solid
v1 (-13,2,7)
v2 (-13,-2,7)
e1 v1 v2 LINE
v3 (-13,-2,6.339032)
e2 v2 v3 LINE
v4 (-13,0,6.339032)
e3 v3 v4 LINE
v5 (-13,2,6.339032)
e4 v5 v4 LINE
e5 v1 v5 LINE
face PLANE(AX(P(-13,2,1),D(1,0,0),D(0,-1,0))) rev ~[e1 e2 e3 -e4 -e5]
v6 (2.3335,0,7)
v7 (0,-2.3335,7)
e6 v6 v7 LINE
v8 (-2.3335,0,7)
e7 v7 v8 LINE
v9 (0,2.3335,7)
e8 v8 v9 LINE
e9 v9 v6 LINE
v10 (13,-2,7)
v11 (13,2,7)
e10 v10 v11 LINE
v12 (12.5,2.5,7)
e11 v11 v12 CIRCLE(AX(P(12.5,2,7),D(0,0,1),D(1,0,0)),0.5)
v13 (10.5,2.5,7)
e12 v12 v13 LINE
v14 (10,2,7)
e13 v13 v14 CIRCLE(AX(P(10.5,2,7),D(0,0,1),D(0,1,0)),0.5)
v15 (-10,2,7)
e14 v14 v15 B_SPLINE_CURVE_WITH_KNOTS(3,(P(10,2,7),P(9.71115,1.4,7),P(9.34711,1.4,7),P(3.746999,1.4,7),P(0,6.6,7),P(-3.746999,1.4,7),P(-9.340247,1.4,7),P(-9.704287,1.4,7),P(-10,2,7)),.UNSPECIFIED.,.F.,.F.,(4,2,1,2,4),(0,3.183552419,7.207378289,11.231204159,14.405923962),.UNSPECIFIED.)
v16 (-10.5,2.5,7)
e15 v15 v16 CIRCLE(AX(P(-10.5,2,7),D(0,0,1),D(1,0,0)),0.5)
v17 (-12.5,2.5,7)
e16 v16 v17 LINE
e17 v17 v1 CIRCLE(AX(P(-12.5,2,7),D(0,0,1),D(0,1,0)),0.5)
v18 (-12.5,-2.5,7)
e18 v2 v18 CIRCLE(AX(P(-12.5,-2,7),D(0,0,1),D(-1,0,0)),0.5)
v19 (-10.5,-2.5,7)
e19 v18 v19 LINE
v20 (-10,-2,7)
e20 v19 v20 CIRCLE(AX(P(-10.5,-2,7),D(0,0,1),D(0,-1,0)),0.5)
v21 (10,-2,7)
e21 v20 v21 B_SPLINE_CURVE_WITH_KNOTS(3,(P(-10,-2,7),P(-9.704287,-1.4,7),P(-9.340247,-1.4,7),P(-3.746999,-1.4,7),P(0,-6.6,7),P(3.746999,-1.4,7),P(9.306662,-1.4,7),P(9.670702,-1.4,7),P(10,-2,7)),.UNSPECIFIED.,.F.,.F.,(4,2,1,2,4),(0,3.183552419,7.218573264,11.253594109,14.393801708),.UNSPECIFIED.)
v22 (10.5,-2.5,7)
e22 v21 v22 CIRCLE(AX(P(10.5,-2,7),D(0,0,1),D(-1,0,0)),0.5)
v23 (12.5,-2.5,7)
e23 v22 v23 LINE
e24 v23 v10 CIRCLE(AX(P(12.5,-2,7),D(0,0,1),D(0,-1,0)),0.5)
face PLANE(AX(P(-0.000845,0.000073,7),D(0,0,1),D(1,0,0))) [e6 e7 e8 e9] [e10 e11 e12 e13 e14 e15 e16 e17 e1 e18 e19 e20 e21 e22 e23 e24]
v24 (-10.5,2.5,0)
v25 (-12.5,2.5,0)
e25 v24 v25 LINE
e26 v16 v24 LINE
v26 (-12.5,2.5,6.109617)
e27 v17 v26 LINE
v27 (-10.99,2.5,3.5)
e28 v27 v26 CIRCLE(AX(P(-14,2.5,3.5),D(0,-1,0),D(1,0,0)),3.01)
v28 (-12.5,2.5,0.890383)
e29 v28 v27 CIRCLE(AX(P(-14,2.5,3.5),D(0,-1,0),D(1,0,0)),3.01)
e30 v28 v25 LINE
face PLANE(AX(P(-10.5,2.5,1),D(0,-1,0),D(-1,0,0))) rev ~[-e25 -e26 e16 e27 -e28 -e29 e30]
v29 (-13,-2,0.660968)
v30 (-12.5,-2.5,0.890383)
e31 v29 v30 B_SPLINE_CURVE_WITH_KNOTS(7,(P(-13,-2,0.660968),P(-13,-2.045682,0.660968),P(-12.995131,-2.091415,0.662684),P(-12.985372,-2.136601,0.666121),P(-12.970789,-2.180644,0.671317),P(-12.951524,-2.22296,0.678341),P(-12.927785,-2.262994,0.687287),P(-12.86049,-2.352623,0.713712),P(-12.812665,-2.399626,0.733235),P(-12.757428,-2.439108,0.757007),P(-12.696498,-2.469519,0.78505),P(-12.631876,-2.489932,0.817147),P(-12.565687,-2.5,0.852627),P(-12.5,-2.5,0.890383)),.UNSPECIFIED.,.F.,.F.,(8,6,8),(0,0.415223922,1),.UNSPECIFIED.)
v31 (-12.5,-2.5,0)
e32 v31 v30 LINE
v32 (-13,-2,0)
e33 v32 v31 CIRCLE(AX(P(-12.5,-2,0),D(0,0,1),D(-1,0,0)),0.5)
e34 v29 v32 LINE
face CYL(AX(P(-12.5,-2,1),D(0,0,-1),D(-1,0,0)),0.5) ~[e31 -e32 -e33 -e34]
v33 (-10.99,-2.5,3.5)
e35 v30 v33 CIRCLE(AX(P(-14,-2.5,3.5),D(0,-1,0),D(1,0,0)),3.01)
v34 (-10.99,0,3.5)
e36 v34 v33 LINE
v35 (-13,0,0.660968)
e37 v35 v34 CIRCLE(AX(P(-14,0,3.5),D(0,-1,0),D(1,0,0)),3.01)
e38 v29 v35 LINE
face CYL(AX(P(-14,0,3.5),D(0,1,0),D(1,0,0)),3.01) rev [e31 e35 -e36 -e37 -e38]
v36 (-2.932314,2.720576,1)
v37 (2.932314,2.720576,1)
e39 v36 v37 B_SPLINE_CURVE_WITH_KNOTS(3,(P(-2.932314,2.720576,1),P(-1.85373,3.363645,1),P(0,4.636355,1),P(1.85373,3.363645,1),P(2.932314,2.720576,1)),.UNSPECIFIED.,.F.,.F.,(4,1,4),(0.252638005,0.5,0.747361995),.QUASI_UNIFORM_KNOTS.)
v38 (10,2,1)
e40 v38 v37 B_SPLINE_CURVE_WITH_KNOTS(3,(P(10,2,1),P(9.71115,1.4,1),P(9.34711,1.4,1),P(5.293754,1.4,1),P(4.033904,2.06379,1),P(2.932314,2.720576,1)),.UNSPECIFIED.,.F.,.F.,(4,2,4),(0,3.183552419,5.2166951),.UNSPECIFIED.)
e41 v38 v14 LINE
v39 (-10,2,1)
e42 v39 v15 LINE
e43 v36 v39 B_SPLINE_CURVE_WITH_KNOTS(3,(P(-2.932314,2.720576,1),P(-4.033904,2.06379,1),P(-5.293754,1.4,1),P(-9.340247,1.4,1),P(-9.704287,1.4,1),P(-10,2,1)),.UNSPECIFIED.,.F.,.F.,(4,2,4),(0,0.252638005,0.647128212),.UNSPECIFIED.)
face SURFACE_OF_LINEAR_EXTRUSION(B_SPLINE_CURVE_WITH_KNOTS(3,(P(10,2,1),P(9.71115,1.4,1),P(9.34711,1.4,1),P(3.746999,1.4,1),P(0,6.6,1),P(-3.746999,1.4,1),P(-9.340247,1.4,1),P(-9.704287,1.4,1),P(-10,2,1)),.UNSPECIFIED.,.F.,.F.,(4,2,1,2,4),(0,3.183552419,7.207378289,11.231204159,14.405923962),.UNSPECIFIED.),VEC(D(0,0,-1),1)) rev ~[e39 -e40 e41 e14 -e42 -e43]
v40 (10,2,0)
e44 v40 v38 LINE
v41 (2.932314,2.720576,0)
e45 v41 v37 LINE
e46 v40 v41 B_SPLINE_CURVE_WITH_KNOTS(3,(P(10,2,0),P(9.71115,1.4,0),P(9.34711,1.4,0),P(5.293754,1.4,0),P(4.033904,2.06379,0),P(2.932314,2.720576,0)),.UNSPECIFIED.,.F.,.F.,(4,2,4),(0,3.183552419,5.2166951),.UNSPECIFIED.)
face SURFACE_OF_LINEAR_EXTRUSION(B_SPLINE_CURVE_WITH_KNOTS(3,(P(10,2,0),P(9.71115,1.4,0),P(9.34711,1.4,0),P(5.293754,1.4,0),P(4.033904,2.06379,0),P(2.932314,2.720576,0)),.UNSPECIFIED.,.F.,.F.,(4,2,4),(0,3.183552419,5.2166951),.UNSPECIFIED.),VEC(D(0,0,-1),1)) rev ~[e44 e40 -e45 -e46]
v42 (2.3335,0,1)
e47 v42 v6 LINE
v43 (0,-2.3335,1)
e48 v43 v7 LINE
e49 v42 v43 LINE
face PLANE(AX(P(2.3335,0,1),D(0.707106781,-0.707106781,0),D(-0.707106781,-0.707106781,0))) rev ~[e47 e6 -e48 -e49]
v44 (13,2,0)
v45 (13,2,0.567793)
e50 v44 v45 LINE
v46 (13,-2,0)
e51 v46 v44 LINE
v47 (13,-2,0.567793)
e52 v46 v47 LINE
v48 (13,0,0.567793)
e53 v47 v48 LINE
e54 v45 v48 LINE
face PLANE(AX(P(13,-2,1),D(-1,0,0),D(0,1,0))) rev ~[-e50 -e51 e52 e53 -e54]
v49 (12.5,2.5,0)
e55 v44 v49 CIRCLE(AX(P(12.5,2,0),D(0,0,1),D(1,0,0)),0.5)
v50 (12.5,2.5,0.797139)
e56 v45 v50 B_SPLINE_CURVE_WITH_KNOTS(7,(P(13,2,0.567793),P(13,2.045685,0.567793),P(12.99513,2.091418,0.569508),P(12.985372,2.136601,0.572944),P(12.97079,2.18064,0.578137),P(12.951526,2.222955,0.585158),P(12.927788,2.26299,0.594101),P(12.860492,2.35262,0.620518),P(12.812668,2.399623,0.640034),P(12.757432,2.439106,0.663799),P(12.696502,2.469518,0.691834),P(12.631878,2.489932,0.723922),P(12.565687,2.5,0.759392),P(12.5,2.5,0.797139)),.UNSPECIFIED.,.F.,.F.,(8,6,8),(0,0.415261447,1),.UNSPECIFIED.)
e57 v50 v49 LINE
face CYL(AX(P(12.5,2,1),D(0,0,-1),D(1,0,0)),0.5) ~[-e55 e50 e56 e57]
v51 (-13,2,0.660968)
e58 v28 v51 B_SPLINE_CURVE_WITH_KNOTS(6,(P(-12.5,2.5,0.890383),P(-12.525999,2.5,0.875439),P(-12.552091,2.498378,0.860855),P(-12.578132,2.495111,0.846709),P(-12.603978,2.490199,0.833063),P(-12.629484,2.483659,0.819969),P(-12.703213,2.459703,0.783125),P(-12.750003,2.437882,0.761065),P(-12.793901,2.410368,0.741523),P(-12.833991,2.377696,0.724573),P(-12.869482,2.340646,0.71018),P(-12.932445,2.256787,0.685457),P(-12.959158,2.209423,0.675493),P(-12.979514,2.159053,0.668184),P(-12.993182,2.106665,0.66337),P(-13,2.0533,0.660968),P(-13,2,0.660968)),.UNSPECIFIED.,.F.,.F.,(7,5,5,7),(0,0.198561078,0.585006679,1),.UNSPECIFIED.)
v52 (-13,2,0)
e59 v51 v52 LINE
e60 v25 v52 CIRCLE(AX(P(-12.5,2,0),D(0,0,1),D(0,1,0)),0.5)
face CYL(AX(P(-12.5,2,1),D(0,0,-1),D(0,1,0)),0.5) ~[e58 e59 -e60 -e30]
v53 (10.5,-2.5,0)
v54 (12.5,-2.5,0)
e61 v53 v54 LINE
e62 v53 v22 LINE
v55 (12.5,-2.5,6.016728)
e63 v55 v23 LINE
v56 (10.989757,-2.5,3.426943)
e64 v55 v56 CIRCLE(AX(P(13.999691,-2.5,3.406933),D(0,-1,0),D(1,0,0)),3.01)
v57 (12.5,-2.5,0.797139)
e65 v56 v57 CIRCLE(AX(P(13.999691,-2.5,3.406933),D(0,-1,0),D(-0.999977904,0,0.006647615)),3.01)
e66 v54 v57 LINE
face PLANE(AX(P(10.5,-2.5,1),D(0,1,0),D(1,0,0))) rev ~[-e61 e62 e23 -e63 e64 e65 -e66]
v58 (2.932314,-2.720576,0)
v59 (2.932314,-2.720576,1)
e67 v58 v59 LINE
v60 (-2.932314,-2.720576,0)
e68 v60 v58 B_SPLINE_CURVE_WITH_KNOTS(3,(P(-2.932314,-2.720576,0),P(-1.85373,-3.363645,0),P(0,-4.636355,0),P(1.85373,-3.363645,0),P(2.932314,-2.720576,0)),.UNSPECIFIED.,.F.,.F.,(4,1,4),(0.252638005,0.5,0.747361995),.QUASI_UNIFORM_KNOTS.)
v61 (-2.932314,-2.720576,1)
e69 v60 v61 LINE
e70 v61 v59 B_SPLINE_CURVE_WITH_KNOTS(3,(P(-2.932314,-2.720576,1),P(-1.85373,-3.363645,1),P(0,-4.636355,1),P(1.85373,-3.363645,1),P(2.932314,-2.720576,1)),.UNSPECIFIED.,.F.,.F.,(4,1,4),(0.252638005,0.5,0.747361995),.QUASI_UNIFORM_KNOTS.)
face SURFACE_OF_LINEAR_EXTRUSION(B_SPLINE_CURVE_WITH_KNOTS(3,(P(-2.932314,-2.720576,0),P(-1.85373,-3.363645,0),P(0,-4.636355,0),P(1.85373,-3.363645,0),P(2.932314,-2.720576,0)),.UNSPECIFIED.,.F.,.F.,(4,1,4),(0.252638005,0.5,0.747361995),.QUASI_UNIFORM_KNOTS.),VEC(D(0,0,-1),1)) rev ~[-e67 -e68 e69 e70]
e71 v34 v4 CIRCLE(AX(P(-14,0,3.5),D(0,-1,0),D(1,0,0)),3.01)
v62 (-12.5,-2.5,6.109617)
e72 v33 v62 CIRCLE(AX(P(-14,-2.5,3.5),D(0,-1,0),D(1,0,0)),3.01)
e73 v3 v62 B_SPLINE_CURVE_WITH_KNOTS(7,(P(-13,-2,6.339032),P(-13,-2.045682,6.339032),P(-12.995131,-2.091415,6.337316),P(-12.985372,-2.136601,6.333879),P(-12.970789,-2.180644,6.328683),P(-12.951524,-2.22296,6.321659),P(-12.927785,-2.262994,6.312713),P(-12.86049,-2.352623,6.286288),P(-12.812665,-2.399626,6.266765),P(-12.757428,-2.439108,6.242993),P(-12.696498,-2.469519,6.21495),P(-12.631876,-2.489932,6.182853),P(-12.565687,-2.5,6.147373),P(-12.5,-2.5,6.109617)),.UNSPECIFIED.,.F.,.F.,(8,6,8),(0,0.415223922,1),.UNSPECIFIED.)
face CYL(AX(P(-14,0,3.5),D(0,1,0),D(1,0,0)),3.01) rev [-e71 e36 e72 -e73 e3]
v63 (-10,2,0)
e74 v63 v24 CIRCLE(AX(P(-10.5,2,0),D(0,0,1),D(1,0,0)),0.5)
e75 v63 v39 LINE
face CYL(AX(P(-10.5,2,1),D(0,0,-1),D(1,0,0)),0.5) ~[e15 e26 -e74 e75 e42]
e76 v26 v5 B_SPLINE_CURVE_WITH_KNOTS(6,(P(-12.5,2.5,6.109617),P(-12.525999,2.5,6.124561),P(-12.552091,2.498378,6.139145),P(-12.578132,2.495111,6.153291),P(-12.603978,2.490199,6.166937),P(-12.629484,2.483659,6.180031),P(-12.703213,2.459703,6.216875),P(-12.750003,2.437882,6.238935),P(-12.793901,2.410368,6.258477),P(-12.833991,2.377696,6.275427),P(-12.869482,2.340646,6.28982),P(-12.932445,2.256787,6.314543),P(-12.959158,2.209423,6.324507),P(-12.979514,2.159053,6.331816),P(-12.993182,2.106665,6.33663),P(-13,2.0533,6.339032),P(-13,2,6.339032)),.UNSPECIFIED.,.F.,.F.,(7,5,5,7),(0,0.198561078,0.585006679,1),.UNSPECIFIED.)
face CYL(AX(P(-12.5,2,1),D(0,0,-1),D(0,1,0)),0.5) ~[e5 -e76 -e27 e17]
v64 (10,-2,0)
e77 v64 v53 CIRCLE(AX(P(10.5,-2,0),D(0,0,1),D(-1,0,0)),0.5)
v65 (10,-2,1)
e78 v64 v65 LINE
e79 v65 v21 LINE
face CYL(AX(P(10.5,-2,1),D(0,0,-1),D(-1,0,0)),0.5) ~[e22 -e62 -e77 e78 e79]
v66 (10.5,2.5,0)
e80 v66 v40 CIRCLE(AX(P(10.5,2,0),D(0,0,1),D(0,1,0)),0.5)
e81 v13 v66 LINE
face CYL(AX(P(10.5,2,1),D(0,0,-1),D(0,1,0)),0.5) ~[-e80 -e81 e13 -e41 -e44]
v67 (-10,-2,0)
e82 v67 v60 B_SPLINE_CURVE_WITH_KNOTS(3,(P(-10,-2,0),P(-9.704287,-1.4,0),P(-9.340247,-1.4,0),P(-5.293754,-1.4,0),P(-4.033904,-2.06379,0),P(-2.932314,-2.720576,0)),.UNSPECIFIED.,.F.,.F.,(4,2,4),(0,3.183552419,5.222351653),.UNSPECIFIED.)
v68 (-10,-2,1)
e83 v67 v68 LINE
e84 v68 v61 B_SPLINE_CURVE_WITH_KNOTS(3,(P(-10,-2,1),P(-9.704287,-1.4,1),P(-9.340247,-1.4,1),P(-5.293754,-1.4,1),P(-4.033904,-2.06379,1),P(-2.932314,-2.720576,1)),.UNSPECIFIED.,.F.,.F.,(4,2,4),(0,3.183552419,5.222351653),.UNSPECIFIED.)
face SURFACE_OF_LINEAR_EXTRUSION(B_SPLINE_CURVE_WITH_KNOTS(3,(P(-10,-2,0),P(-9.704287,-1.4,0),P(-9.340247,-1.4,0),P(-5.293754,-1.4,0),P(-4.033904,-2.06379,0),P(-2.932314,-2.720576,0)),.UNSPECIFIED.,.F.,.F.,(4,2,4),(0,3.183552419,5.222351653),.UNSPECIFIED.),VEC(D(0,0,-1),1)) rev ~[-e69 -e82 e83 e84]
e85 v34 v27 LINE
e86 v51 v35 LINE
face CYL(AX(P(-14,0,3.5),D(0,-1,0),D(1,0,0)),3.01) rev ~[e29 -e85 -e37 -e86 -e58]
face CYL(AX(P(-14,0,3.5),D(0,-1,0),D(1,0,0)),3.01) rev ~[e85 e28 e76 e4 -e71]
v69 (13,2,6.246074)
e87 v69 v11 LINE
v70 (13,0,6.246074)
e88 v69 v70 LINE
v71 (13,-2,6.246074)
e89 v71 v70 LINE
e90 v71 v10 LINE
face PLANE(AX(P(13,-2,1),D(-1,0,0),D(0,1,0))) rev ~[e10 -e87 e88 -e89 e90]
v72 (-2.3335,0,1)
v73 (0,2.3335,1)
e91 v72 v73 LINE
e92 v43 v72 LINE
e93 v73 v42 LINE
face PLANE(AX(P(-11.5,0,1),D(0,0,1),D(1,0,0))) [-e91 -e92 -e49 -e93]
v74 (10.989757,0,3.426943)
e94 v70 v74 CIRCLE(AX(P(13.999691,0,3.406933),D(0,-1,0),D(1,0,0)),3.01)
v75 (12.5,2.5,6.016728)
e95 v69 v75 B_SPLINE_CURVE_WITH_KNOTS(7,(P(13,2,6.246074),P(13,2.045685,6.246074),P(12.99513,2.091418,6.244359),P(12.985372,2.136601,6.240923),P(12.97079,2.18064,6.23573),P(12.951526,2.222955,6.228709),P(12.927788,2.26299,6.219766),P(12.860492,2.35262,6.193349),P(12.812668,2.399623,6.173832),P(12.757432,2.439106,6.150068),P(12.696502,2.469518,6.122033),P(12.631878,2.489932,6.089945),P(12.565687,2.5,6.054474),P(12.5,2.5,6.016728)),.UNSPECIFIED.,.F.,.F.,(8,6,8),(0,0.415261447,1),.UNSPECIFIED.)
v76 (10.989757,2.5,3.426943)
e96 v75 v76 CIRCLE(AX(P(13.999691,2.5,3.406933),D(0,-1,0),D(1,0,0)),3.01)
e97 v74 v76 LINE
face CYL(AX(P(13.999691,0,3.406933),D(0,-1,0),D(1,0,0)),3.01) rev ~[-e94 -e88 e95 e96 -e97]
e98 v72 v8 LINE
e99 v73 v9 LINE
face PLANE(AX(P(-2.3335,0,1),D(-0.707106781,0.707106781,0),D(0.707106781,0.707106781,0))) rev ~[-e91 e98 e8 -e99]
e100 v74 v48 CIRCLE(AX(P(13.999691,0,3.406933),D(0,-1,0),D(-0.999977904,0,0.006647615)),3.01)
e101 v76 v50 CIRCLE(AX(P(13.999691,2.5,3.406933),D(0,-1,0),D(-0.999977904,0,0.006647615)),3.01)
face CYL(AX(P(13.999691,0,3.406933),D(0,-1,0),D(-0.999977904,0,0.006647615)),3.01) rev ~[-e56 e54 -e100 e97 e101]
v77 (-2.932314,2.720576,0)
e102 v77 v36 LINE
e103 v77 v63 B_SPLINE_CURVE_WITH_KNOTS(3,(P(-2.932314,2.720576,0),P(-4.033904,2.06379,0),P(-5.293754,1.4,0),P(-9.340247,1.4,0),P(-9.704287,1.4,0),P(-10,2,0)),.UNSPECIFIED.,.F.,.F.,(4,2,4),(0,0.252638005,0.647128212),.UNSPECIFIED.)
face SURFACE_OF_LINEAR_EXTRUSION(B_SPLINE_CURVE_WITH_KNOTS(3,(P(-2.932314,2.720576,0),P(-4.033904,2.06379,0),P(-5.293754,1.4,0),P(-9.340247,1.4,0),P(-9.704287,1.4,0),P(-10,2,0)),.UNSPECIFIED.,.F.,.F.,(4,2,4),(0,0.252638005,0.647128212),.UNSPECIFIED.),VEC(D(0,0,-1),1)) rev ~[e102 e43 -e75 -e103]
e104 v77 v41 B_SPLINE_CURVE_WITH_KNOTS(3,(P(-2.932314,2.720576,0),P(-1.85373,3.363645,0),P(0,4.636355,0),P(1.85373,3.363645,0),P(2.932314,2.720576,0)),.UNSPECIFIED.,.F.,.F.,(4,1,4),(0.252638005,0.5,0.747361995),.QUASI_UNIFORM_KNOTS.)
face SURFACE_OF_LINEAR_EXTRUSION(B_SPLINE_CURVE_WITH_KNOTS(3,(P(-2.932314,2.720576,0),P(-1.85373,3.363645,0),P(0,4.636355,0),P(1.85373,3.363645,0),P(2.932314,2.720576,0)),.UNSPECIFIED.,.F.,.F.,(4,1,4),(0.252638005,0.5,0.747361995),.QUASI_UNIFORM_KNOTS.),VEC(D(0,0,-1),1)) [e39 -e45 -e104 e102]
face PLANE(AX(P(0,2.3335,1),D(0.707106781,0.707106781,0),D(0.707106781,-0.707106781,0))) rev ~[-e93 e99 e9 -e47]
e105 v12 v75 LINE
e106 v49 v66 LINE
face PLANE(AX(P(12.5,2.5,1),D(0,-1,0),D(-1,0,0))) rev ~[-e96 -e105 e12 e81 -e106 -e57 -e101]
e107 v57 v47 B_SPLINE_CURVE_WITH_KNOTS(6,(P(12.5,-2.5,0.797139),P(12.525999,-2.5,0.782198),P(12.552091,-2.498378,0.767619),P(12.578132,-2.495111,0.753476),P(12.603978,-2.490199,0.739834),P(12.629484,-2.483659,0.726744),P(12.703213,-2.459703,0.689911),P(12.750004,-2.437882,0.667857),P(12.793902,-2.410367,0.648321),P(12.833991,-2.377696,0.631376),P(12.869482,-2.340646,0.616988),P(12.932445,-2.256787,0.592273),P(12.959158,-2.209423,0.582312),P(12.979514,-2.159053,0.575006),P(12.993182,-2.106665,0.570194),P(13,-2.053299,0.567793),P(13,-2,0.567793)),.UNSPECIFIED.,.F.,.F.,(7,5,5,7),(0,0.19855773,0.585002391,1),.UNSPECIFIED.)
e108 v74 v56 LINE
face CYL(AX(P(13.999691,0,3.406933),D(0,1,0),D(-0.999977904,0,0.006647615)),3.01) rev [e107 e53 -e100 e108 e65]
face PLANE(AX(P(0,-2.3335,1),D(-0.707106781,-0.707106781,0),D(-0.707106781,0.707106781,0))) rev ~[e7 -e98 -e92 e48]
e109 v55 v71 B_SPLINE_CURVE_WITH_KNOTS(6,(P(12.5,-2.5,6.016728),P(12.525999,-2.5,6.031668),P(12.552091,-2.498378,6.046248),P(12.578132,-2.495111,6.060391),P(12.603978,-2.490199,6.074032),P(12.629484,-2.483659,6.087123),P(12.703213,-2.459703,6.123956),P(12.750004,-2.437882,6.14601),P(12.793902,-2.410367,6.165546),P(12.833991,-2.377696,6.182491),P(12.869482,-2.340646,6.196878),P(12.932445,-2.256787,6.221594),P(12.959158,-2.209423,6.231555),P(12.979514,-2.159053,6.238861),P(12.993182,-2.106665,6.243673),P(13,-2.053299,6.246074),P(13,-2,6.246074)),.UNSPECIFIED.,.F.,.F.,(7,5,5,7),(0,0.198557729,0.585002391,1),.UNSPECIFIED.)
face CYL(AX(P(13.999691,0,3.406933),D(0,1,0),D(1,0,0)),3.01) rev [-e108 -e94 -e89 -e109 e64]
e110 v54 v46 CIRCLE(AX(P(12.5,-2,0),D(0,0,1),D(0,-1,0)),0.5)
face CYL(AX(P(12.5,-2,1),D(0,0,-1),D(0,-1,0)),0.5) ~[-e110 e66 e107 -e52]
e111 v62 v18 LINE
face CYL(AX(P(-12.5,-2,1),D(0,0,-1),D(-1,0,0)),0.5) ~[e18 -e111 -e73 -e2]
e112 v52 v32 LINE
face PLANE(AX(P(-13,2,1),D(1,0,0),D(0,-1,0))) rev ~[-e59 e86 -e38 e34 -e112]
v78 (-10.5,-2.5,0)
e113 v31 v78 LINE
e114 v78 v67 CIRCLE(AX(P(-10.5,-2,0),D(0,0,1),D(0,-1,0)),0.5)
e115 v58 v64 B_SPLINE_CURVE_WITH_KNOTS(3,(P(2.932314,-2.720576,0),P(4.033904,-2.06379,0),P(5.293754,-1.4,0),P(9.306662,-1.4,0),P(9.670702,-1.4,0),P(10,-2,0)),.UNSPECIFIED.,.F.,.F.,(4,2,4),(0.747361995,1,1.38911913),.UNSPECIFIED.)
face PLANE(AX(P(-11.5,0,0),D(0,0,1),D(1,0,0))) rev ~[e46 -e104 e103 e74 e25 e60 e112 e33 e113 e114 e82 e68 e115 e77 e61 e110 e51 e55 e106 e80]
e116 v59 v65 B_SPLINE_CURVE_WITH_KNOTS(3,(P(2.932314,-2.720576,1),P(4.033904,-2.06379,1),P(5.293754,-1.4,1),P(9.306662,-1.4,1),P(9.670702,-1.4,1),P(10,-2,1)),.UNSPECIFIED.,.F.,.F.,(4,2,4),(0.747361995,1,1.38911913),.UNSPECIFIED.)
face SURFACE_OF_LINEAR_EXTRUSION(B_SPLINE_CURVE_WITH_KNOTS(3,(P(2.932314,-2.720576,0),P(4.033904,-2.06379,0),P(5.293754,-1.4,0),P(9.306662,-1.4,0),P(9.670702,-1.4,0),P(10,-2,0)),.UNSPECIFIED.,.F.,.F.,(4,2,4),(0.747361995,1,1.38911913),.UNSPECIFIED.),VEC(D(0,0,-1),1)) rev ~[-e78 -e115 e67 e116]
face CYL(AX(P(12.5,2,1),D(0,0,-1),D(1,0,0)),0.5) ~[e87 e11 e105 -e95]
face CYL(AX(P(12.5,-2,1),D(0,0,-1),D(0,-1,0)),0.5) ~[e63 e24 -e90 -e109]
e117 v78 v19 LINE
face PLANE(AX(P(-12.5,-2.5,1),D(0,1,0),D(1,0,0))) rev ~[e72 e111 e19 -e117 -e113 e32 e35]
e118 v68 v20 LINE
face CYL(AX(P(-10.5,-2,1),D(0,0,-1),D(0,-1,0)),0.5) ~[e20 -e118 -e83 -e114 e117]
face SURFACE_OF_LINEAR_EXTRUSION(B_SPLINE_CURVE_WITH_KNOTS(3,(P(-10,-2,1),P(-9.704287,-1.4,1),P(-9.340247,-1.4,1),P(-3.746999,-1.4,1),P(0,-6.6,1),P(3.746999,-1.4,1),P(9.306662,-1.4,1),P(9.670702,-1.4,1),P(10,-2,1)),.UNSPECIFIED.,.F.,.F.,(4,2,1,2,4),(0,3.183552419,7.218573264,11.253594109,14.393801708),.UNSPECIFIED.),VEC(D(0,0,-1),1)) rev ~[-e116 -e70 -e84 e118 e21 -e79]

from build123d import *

# Parameters (mm, degrees)
F0_W     = 3.1265006005
F0_H     = 1.4
F1_DEPTH = 1
F3_DEPTH = 6
F4_R     = 3.01
F5_DEPTH = 2.5


with BuildPart() as f1:
    # F0 (on Top) → F1 (new body)
    with BuildSketch(Plane.XY):
        with BuildLine():
            Line((-10, 0), (-10, 1.4))
            Line((-10, 1.4), (-10, 2))
            ThreePointArc((-10, 2), (-10.1464466094, 2.3535533906), (-10.5, 2.5))
            Line((-10.5, 2.5), (-12.5, 2.5))
            ThreePointArc((-12.5, 2.5), (-12.8535533906, 2.3535533906), (-13, 2))
            Line((-13, 2), (-13, -2))
            ThreePointArc((-13, -2), (-12.8535533906, -2.3535533906), (-12.5, -2.5))
            Line((-12.5, -2.5), (-10.5, -2.5))
            ThreePointArc((-10.5, -2.5), (-10.1464466094, -2.3535533906), (-10, -2))
            Line((-10, -2), (-10, -1.4))
            Line((-10, -1.4), (-10, 0))
        make_face()
        with BuildLine():
            Line((-10, 1.4), (-6.8734993995, 1.4))
            add(Edge.make_bspline(
                [(-10, 2), (-9.7042871639, 1.4), (-9.3402471393, 1.4), (-6.8734993995, 1.4)],
                knots=[0, 0, 0, 0, 3.183552419, 3.183552419, 3.183552419, 3.183552419], degree=3))
            Line((-10, 2), (-10, 1.4))
        make_face()
        with BuildLine():
            add(Edge.make_bspline(
                [(-10, -2), (-9.7042871639, -1.4), (-9.3402471393, -1.4), (-6.8734993995, -1.4)],
                knots=[0, 0, 0, 0, 3.183552419, 3.183552419, 3.183552419, 3.183552419], degree=3))
            Line((-6.8734993995, -1.4), (-10, -1.4))
            Line((-10, -1.4), (-10, -2))
        make_face()
        with Locations((-8.4367496998, 0.7)):
            Rectangle(F0_W, F0_H)
        with Locations((-8.4367496998, -0.7)):
            Rectangle(F0_W, F0_H)
        with BuildLine():
            Line((-6.8734993995, 0), (-4, 0))
            ThreePointArc((-4, 0), (-3.9362415574, 0.7113384581), (-3.746998799, 1.4))
            Line((-3.746998799, 1.4), (-6.8734993995, 1.4))
            Line((-6.8734993995, 1.4), (-6.8734993995, 0))
        make_face()
        with BuildLine():
            ThreePointArc((-3.746998799, -1.4), (-3.9362415574, -0.7113384581), (-4, 0))
            Line((-4, 0), (-6.8734993995, 0))
            Line((-6.8734993995, 0), (-6.8734993995, -1.4))
            Line((-6.8734993995, -1.4), (-3.746998799, -1.4))
        make_face()
        with BuildLine():
            ThreePointArc((-3.746998799, 1.4), (-3.4043040955, 2.1001699039), (-2.9323144428, 2.7205756759))
            add(Edge.make_bspline(
                [(-6.8734993995, 1.4), (-5.2937536503, 1.4), (-4.0339039274, 2.0637900008), (-2.9323144428, 2.7205756759)],
                knots=[0, 0, 0, 0, 0.2526380051, 0.2526380051, 0.2526380051, 0.2526380051], degree=3))
            Line((-6.8734993995, 1.4), (-3.746998799, 1.4))
        make_face()
        with BuildLine():
            add(Edge.make_bspline(
                [(-6.8734993995, -1.4), (-5.2937536503, -1.4), (-4.0339039274, -2.0637900008), (-2.9323144428, -2.7205756759)],
                knots=[0, 0, 0, 0, 0.2526380051, 0.2526380051, 0.2526380051, 0.2526380051], degree=3))
            ThreePointArc((-2.9323144428, -2.7205756759), (-3.4043040955, -2.1001699039), (-3.746998799, -1.4))
            Line((-3.746998799, -1.4), (-6.8734993995, -1.4))
        make_face()
        with BuildLine():
            add(Edge.make_bspline(
                [(6.8734993995, 1.4), (9.3471100554, 1.4), (9.71115008, 1.4), (10, 2)],
                knots=[0, 0, 0, 0, 3.183552419, 3.183552419, 3.183552419, 3.183552419], degree=3))
            Line((6.8734993995, 1.4), (10, 1.4))
            Line((10, 1.4), (10, 2))
        make_face()
        with BuildLine():
            Line((10, -1.4), (6.8734993995, -1.4))
            add(Edge.make_bspline(
                [(6.8734993995, -1.4), (9.3066617846, -1.4), (9.6707018092, -1.4), (10, -2)],
                knots=[0, 0, 0, 0, 3.183552419, 3.183552419, 3.183552419, 3.183552419], degree=3))
            Line((10, -2), (10, -1.4))
        make_face()
        with Locations((8.4367496998, 0.7)):
            Rectangle(F0_W, F0_H)
        with Locations((8.4367496998, -0.7)):
            Rectangle(F0_W, F0_H)
        with BuildLine():
            ThreePointArc((3.746998799, 1.4), (3.9362415574, 0.7113384581), (4, 0))
            Line((4, 0), (6.8734993995, 0))
            Line((6.8734993995, 0), (6.8734993995, 1.4))
            Line((6.8734993995, 1.4), (3.746998799, 1.4))
        make_face()
        with BuildLine():
            Line((6.8734993995, 0), (4, 0))
            ThreePointArc((4, 0), (3.9362415574, -0.7113384581), (3.746998799, -1.4))
            Line((3.746998799, -1.4), (6.8734993995, -1.4))
            Line((6.8734993995, -1.4), (6.8734993995, 0))
        make_face()
        with BuildLine():
            ThreePointArc((2.9323144428, 2.7205756759), (3.4043040955, 2.1001699039), (3.746998799, 1.4))
            Line((3.746998799, 1.4), (6.8734993995, 1.4))
            add(Edge.make_bspline(
                [(2.9323144428, 2.7205756759), (4.0339039274, 2.0637900008), (5.2937536503, 1.4), (6.8734993995, 1.4)],
                knots=[0.7473619949, 0.7473619949, 0.7473619949, 0.7473619949, 1, 1, 1, 1], degree=3))
        make_face()
        with BuildLine():
            Line((6.8734993995, -1.4), (3.746998799, -1.4))
            ThreePointArc((3.746998799, -1.4), (3.4043040955, -2.1001699039), (2.9323144428, -2.7205756759))
            add(Edge.make_bspline(
                [(2.9323144428, -2.7205756759), (4.0339039274, -2.0637900008), (5.2937536503, -1.4), (6.8734993995, -1.4)],
                knots=[0.7473619949, 0.7473619949, 0.7473619949, 0.7473619949, 1, 1, 1, 1], degree=3))
        make_face()
        with BuildLine():
            Line((2.3335, 0), (4, 0))
            ThreePointArc((4, 0), (3.9362415574, 0.7113384581), (3.746998799, 1.4))
            ThreePointArc((3.746998799, 1.4), (3.4043040955, 2.1001699039), (2.9323144428, 2.7205756759))
            add(Edge.make_bspline(
                [(0, 4), (0.9268650979, 4), (1.8537301958, 3.3636452521), (2.9323144428, 2.7205756759)],
                knots=[0.5, 0.5, 0.5, 0.5, 0.7473619949, 0.7473619949, 0.7473619949, 0.7473619949], degree=3))
            add(Edge.make_bspline(
                [(-2.9323144428, 2.7205756759), (-1.8537301958, 3.3636452521), (-0.9268650979, 4), (0, 4)],
                knots=[0.2526380051, 0.2526380051, 0.2526380051, 0.2526380051, 0.5, 0.5, 0.5, 0.5], degree=3))
            ThreePointArc((-2.9323144428, 2.7205756759), (-3.4043040955, 2.1001699039), (-3.746998799, 1.4))
            ThreePointArc((-3.746998799, 1.4), (-3.9362415574, 0.7113384581), (-4, 0))
            Line((-4, 0), (-2.3335, 0))
            Line((-2.3335, 0), (0, 2.3335))
            Line((0, 2.3335), (2.3335, 0))
        make_face()
        with BuildLine():
            ThreePointArc((3.746998799, -1.4), (3.9362415574, -0.7113384581), (4, 0))
            Line((4, 0), (2.3335, 0))
            Line((2.3335, 0), (0, -2.3335))
            Line((0, -2.3335), (-2.3335, 0))
            Line((-2.3335, 0), (-4, 0))
            ThreePointArc((-4, 0), (-3.9362415574, -0.7113384581), (-3.746998799, -1.4))
            ThreePointArc((-3.746998799, -1.4), (-3.4043040955, -2.1001699039), (-2.9323144428, -2.7205756759))
            add(Edge.make_bspline(
                [(-2.9323144428, -2.7205756759), (-1.8537301958, -3.3636452521), (-0.9268650979, -4), (0, -4)],
                knots=[0.2526380051, 0.2526380051, 0.2526380051, 0.2526380051, 0.5, 0.5, 0.5, 0.5], degree=3))
            add(Edge.make_bspline(
                [(0, -4), (0.9268650979, -4), (1.8537301958, -3.3636452521), (2.9323144428, -2.7205756759)],
                knots=[0.5, 0.5, 0.5, 0.5, 0.7473619949, 0.7473619949, 0.7473619949, 0.7473619949], degree=3))
            ThreePointArc((2.9323144428, -2.7205756759), (3.4043040955, -2.1001699039), (3.746998799, -1.4))
        make_face()
        Polygon((0, -2.3335), (2.3335, 0), (0, 0), (-2.3335, 0), align=None)
        Polygon((0, 0), (2.3335, 0), (0, 2.3335), (-2.3335, 0), align=None)
        with BuildLine():
            Line((10, 1.4), (10, 0))
            Line((10, 0), (10, -1.4))
            Line((10, -1.4), (10, -2))
            ThreePointArc((10, -2), (10.1464466094, -2.3535533906), (10.5, -2.5))
            Line((10.5, -2.5), (12.5, -2.5))
            ThreePointArc((12.5, -2.5), (12.8535533906, -2.3535533906), (13, -2))
            Line((13, -2), (13, 2))
            ThreePointArc((13, 2), (12.8535533906, 2.3535533906), (12.5, 2.5))
            Line((12.5, 2.5), (10.5, 2.5))
            ThreePointArc((10.5, 2.5), (10.1464466094, 2.3535533906), (10, 2))
            Line((10, 2), (10, 1.4))
        make_face()
    extrude(amount=F1_DEPTH)

    # F2 (on face) → F3 (join)
    with BuildSketch(Plane.XY.offset(1)):
        with BuildLine():
            ThreePointArc((-13, -2), (-12.8535533906, -2.3535533906), (-12.5, -2.5))
            Line((-12.5, -2.5), (-10.5, -2.5))
            ThreePointArc((-10.5, -2.5), (-10.1464466094, -2.3535533906), (-10, -2))
            add(Edge.make_bspline(
                [(-10, -2), (-9.7042871639, -1.4), (-9.3402471393, -1.4), (-3.746998799, -1.4), (0, -6.6), (3.746998799, -1.4), (9.3066617846, -1.4), (9.6707018092, -1.4), (10, -2)],
                knots=[0, 0, 0, 0, 3.183552419, 3.183552419, 7.2185732642, 11.2535941093, 11.2535941093, 14.3938017082, 14.3938017082, 14.3938017082, 14.3938017082], degree=3))
            ThreePointArc((10, -2), (10.1464466094, -2.3535533906), (10.5, -2.5))
            Line((10.5, -2.5), (12.5, -2.5))
            ThreePointArc((12.5, -2.5), (12.8535533906, -2.3535533906), (13, -2))
            Line((13, -2), (13, 2))
            ThreePointArc((13, 2), (12.8535533906, 2.3535533906), (12.5, 2.5))
            Line((12.5, 2.5), (10.5, 2.5))
            ThreePointArc((10.5, 2.5), (10.1464466094, 2.3535533906), (10, 2))
            add(Edge.make_bspline(
                [(10, 2), (9.71115008, 1.4), (9.3471100554, 1.4), (3.746998799, 1.4), (0, 6.6), (-3.746998799, 1.4), (-9.3402471393, 1.4), (-9.7042871639, 1.4), (-10, 2)],
                knots=[0, 0, 0, 0, 3.183552419, 3.183552419, 7.2073782892, 11.2312041594, 11.2312041594, 14.4059239624, 14.4059239624, 14.4059239624, 14.4059239624], degree=3))
            ThreePointArc((-10, 2), (-10.1464466094, 2.3535533906), (-10.5, 2.5))
            Line((-10.5, 2.5), (-12.5, 2.5))
            ThreePointArc((-12.5, 2.5), (-12.8535533906, 2.3535533906), (-13, 2))
            Line((-13, 2), (-13, -2))
        make_face()
        Polygon((0, -2.3335), (-2.3335, 0), (0, 2.3335), (2.3335, 0), align=None, mode=Mode.SUBTRACT)
    extrude(amount=F3_DEPTH)

    # F4 (on Front) → F5 (cut, symmetric)
    with BuildSketch(Plane.XZ):
        with Locations((-14, 3.5)):
            Circle(F4_R)
        with BuildLine():
            ThreePointArc((17.0096906611, 3.4069333901), (14.0096953769, 6.4169167631), (10.989757169, 3.4269427112))
            ThreePointArc((10.989757169, 3.4269427112), (13.9896859453, 0.3969500171), (17.0096906611, 3.4069333901))
        make_face()
    extrude(amount=F5_DEPTH, both=True, mode=Mode.SUBTRACT)


solid = f1.part
